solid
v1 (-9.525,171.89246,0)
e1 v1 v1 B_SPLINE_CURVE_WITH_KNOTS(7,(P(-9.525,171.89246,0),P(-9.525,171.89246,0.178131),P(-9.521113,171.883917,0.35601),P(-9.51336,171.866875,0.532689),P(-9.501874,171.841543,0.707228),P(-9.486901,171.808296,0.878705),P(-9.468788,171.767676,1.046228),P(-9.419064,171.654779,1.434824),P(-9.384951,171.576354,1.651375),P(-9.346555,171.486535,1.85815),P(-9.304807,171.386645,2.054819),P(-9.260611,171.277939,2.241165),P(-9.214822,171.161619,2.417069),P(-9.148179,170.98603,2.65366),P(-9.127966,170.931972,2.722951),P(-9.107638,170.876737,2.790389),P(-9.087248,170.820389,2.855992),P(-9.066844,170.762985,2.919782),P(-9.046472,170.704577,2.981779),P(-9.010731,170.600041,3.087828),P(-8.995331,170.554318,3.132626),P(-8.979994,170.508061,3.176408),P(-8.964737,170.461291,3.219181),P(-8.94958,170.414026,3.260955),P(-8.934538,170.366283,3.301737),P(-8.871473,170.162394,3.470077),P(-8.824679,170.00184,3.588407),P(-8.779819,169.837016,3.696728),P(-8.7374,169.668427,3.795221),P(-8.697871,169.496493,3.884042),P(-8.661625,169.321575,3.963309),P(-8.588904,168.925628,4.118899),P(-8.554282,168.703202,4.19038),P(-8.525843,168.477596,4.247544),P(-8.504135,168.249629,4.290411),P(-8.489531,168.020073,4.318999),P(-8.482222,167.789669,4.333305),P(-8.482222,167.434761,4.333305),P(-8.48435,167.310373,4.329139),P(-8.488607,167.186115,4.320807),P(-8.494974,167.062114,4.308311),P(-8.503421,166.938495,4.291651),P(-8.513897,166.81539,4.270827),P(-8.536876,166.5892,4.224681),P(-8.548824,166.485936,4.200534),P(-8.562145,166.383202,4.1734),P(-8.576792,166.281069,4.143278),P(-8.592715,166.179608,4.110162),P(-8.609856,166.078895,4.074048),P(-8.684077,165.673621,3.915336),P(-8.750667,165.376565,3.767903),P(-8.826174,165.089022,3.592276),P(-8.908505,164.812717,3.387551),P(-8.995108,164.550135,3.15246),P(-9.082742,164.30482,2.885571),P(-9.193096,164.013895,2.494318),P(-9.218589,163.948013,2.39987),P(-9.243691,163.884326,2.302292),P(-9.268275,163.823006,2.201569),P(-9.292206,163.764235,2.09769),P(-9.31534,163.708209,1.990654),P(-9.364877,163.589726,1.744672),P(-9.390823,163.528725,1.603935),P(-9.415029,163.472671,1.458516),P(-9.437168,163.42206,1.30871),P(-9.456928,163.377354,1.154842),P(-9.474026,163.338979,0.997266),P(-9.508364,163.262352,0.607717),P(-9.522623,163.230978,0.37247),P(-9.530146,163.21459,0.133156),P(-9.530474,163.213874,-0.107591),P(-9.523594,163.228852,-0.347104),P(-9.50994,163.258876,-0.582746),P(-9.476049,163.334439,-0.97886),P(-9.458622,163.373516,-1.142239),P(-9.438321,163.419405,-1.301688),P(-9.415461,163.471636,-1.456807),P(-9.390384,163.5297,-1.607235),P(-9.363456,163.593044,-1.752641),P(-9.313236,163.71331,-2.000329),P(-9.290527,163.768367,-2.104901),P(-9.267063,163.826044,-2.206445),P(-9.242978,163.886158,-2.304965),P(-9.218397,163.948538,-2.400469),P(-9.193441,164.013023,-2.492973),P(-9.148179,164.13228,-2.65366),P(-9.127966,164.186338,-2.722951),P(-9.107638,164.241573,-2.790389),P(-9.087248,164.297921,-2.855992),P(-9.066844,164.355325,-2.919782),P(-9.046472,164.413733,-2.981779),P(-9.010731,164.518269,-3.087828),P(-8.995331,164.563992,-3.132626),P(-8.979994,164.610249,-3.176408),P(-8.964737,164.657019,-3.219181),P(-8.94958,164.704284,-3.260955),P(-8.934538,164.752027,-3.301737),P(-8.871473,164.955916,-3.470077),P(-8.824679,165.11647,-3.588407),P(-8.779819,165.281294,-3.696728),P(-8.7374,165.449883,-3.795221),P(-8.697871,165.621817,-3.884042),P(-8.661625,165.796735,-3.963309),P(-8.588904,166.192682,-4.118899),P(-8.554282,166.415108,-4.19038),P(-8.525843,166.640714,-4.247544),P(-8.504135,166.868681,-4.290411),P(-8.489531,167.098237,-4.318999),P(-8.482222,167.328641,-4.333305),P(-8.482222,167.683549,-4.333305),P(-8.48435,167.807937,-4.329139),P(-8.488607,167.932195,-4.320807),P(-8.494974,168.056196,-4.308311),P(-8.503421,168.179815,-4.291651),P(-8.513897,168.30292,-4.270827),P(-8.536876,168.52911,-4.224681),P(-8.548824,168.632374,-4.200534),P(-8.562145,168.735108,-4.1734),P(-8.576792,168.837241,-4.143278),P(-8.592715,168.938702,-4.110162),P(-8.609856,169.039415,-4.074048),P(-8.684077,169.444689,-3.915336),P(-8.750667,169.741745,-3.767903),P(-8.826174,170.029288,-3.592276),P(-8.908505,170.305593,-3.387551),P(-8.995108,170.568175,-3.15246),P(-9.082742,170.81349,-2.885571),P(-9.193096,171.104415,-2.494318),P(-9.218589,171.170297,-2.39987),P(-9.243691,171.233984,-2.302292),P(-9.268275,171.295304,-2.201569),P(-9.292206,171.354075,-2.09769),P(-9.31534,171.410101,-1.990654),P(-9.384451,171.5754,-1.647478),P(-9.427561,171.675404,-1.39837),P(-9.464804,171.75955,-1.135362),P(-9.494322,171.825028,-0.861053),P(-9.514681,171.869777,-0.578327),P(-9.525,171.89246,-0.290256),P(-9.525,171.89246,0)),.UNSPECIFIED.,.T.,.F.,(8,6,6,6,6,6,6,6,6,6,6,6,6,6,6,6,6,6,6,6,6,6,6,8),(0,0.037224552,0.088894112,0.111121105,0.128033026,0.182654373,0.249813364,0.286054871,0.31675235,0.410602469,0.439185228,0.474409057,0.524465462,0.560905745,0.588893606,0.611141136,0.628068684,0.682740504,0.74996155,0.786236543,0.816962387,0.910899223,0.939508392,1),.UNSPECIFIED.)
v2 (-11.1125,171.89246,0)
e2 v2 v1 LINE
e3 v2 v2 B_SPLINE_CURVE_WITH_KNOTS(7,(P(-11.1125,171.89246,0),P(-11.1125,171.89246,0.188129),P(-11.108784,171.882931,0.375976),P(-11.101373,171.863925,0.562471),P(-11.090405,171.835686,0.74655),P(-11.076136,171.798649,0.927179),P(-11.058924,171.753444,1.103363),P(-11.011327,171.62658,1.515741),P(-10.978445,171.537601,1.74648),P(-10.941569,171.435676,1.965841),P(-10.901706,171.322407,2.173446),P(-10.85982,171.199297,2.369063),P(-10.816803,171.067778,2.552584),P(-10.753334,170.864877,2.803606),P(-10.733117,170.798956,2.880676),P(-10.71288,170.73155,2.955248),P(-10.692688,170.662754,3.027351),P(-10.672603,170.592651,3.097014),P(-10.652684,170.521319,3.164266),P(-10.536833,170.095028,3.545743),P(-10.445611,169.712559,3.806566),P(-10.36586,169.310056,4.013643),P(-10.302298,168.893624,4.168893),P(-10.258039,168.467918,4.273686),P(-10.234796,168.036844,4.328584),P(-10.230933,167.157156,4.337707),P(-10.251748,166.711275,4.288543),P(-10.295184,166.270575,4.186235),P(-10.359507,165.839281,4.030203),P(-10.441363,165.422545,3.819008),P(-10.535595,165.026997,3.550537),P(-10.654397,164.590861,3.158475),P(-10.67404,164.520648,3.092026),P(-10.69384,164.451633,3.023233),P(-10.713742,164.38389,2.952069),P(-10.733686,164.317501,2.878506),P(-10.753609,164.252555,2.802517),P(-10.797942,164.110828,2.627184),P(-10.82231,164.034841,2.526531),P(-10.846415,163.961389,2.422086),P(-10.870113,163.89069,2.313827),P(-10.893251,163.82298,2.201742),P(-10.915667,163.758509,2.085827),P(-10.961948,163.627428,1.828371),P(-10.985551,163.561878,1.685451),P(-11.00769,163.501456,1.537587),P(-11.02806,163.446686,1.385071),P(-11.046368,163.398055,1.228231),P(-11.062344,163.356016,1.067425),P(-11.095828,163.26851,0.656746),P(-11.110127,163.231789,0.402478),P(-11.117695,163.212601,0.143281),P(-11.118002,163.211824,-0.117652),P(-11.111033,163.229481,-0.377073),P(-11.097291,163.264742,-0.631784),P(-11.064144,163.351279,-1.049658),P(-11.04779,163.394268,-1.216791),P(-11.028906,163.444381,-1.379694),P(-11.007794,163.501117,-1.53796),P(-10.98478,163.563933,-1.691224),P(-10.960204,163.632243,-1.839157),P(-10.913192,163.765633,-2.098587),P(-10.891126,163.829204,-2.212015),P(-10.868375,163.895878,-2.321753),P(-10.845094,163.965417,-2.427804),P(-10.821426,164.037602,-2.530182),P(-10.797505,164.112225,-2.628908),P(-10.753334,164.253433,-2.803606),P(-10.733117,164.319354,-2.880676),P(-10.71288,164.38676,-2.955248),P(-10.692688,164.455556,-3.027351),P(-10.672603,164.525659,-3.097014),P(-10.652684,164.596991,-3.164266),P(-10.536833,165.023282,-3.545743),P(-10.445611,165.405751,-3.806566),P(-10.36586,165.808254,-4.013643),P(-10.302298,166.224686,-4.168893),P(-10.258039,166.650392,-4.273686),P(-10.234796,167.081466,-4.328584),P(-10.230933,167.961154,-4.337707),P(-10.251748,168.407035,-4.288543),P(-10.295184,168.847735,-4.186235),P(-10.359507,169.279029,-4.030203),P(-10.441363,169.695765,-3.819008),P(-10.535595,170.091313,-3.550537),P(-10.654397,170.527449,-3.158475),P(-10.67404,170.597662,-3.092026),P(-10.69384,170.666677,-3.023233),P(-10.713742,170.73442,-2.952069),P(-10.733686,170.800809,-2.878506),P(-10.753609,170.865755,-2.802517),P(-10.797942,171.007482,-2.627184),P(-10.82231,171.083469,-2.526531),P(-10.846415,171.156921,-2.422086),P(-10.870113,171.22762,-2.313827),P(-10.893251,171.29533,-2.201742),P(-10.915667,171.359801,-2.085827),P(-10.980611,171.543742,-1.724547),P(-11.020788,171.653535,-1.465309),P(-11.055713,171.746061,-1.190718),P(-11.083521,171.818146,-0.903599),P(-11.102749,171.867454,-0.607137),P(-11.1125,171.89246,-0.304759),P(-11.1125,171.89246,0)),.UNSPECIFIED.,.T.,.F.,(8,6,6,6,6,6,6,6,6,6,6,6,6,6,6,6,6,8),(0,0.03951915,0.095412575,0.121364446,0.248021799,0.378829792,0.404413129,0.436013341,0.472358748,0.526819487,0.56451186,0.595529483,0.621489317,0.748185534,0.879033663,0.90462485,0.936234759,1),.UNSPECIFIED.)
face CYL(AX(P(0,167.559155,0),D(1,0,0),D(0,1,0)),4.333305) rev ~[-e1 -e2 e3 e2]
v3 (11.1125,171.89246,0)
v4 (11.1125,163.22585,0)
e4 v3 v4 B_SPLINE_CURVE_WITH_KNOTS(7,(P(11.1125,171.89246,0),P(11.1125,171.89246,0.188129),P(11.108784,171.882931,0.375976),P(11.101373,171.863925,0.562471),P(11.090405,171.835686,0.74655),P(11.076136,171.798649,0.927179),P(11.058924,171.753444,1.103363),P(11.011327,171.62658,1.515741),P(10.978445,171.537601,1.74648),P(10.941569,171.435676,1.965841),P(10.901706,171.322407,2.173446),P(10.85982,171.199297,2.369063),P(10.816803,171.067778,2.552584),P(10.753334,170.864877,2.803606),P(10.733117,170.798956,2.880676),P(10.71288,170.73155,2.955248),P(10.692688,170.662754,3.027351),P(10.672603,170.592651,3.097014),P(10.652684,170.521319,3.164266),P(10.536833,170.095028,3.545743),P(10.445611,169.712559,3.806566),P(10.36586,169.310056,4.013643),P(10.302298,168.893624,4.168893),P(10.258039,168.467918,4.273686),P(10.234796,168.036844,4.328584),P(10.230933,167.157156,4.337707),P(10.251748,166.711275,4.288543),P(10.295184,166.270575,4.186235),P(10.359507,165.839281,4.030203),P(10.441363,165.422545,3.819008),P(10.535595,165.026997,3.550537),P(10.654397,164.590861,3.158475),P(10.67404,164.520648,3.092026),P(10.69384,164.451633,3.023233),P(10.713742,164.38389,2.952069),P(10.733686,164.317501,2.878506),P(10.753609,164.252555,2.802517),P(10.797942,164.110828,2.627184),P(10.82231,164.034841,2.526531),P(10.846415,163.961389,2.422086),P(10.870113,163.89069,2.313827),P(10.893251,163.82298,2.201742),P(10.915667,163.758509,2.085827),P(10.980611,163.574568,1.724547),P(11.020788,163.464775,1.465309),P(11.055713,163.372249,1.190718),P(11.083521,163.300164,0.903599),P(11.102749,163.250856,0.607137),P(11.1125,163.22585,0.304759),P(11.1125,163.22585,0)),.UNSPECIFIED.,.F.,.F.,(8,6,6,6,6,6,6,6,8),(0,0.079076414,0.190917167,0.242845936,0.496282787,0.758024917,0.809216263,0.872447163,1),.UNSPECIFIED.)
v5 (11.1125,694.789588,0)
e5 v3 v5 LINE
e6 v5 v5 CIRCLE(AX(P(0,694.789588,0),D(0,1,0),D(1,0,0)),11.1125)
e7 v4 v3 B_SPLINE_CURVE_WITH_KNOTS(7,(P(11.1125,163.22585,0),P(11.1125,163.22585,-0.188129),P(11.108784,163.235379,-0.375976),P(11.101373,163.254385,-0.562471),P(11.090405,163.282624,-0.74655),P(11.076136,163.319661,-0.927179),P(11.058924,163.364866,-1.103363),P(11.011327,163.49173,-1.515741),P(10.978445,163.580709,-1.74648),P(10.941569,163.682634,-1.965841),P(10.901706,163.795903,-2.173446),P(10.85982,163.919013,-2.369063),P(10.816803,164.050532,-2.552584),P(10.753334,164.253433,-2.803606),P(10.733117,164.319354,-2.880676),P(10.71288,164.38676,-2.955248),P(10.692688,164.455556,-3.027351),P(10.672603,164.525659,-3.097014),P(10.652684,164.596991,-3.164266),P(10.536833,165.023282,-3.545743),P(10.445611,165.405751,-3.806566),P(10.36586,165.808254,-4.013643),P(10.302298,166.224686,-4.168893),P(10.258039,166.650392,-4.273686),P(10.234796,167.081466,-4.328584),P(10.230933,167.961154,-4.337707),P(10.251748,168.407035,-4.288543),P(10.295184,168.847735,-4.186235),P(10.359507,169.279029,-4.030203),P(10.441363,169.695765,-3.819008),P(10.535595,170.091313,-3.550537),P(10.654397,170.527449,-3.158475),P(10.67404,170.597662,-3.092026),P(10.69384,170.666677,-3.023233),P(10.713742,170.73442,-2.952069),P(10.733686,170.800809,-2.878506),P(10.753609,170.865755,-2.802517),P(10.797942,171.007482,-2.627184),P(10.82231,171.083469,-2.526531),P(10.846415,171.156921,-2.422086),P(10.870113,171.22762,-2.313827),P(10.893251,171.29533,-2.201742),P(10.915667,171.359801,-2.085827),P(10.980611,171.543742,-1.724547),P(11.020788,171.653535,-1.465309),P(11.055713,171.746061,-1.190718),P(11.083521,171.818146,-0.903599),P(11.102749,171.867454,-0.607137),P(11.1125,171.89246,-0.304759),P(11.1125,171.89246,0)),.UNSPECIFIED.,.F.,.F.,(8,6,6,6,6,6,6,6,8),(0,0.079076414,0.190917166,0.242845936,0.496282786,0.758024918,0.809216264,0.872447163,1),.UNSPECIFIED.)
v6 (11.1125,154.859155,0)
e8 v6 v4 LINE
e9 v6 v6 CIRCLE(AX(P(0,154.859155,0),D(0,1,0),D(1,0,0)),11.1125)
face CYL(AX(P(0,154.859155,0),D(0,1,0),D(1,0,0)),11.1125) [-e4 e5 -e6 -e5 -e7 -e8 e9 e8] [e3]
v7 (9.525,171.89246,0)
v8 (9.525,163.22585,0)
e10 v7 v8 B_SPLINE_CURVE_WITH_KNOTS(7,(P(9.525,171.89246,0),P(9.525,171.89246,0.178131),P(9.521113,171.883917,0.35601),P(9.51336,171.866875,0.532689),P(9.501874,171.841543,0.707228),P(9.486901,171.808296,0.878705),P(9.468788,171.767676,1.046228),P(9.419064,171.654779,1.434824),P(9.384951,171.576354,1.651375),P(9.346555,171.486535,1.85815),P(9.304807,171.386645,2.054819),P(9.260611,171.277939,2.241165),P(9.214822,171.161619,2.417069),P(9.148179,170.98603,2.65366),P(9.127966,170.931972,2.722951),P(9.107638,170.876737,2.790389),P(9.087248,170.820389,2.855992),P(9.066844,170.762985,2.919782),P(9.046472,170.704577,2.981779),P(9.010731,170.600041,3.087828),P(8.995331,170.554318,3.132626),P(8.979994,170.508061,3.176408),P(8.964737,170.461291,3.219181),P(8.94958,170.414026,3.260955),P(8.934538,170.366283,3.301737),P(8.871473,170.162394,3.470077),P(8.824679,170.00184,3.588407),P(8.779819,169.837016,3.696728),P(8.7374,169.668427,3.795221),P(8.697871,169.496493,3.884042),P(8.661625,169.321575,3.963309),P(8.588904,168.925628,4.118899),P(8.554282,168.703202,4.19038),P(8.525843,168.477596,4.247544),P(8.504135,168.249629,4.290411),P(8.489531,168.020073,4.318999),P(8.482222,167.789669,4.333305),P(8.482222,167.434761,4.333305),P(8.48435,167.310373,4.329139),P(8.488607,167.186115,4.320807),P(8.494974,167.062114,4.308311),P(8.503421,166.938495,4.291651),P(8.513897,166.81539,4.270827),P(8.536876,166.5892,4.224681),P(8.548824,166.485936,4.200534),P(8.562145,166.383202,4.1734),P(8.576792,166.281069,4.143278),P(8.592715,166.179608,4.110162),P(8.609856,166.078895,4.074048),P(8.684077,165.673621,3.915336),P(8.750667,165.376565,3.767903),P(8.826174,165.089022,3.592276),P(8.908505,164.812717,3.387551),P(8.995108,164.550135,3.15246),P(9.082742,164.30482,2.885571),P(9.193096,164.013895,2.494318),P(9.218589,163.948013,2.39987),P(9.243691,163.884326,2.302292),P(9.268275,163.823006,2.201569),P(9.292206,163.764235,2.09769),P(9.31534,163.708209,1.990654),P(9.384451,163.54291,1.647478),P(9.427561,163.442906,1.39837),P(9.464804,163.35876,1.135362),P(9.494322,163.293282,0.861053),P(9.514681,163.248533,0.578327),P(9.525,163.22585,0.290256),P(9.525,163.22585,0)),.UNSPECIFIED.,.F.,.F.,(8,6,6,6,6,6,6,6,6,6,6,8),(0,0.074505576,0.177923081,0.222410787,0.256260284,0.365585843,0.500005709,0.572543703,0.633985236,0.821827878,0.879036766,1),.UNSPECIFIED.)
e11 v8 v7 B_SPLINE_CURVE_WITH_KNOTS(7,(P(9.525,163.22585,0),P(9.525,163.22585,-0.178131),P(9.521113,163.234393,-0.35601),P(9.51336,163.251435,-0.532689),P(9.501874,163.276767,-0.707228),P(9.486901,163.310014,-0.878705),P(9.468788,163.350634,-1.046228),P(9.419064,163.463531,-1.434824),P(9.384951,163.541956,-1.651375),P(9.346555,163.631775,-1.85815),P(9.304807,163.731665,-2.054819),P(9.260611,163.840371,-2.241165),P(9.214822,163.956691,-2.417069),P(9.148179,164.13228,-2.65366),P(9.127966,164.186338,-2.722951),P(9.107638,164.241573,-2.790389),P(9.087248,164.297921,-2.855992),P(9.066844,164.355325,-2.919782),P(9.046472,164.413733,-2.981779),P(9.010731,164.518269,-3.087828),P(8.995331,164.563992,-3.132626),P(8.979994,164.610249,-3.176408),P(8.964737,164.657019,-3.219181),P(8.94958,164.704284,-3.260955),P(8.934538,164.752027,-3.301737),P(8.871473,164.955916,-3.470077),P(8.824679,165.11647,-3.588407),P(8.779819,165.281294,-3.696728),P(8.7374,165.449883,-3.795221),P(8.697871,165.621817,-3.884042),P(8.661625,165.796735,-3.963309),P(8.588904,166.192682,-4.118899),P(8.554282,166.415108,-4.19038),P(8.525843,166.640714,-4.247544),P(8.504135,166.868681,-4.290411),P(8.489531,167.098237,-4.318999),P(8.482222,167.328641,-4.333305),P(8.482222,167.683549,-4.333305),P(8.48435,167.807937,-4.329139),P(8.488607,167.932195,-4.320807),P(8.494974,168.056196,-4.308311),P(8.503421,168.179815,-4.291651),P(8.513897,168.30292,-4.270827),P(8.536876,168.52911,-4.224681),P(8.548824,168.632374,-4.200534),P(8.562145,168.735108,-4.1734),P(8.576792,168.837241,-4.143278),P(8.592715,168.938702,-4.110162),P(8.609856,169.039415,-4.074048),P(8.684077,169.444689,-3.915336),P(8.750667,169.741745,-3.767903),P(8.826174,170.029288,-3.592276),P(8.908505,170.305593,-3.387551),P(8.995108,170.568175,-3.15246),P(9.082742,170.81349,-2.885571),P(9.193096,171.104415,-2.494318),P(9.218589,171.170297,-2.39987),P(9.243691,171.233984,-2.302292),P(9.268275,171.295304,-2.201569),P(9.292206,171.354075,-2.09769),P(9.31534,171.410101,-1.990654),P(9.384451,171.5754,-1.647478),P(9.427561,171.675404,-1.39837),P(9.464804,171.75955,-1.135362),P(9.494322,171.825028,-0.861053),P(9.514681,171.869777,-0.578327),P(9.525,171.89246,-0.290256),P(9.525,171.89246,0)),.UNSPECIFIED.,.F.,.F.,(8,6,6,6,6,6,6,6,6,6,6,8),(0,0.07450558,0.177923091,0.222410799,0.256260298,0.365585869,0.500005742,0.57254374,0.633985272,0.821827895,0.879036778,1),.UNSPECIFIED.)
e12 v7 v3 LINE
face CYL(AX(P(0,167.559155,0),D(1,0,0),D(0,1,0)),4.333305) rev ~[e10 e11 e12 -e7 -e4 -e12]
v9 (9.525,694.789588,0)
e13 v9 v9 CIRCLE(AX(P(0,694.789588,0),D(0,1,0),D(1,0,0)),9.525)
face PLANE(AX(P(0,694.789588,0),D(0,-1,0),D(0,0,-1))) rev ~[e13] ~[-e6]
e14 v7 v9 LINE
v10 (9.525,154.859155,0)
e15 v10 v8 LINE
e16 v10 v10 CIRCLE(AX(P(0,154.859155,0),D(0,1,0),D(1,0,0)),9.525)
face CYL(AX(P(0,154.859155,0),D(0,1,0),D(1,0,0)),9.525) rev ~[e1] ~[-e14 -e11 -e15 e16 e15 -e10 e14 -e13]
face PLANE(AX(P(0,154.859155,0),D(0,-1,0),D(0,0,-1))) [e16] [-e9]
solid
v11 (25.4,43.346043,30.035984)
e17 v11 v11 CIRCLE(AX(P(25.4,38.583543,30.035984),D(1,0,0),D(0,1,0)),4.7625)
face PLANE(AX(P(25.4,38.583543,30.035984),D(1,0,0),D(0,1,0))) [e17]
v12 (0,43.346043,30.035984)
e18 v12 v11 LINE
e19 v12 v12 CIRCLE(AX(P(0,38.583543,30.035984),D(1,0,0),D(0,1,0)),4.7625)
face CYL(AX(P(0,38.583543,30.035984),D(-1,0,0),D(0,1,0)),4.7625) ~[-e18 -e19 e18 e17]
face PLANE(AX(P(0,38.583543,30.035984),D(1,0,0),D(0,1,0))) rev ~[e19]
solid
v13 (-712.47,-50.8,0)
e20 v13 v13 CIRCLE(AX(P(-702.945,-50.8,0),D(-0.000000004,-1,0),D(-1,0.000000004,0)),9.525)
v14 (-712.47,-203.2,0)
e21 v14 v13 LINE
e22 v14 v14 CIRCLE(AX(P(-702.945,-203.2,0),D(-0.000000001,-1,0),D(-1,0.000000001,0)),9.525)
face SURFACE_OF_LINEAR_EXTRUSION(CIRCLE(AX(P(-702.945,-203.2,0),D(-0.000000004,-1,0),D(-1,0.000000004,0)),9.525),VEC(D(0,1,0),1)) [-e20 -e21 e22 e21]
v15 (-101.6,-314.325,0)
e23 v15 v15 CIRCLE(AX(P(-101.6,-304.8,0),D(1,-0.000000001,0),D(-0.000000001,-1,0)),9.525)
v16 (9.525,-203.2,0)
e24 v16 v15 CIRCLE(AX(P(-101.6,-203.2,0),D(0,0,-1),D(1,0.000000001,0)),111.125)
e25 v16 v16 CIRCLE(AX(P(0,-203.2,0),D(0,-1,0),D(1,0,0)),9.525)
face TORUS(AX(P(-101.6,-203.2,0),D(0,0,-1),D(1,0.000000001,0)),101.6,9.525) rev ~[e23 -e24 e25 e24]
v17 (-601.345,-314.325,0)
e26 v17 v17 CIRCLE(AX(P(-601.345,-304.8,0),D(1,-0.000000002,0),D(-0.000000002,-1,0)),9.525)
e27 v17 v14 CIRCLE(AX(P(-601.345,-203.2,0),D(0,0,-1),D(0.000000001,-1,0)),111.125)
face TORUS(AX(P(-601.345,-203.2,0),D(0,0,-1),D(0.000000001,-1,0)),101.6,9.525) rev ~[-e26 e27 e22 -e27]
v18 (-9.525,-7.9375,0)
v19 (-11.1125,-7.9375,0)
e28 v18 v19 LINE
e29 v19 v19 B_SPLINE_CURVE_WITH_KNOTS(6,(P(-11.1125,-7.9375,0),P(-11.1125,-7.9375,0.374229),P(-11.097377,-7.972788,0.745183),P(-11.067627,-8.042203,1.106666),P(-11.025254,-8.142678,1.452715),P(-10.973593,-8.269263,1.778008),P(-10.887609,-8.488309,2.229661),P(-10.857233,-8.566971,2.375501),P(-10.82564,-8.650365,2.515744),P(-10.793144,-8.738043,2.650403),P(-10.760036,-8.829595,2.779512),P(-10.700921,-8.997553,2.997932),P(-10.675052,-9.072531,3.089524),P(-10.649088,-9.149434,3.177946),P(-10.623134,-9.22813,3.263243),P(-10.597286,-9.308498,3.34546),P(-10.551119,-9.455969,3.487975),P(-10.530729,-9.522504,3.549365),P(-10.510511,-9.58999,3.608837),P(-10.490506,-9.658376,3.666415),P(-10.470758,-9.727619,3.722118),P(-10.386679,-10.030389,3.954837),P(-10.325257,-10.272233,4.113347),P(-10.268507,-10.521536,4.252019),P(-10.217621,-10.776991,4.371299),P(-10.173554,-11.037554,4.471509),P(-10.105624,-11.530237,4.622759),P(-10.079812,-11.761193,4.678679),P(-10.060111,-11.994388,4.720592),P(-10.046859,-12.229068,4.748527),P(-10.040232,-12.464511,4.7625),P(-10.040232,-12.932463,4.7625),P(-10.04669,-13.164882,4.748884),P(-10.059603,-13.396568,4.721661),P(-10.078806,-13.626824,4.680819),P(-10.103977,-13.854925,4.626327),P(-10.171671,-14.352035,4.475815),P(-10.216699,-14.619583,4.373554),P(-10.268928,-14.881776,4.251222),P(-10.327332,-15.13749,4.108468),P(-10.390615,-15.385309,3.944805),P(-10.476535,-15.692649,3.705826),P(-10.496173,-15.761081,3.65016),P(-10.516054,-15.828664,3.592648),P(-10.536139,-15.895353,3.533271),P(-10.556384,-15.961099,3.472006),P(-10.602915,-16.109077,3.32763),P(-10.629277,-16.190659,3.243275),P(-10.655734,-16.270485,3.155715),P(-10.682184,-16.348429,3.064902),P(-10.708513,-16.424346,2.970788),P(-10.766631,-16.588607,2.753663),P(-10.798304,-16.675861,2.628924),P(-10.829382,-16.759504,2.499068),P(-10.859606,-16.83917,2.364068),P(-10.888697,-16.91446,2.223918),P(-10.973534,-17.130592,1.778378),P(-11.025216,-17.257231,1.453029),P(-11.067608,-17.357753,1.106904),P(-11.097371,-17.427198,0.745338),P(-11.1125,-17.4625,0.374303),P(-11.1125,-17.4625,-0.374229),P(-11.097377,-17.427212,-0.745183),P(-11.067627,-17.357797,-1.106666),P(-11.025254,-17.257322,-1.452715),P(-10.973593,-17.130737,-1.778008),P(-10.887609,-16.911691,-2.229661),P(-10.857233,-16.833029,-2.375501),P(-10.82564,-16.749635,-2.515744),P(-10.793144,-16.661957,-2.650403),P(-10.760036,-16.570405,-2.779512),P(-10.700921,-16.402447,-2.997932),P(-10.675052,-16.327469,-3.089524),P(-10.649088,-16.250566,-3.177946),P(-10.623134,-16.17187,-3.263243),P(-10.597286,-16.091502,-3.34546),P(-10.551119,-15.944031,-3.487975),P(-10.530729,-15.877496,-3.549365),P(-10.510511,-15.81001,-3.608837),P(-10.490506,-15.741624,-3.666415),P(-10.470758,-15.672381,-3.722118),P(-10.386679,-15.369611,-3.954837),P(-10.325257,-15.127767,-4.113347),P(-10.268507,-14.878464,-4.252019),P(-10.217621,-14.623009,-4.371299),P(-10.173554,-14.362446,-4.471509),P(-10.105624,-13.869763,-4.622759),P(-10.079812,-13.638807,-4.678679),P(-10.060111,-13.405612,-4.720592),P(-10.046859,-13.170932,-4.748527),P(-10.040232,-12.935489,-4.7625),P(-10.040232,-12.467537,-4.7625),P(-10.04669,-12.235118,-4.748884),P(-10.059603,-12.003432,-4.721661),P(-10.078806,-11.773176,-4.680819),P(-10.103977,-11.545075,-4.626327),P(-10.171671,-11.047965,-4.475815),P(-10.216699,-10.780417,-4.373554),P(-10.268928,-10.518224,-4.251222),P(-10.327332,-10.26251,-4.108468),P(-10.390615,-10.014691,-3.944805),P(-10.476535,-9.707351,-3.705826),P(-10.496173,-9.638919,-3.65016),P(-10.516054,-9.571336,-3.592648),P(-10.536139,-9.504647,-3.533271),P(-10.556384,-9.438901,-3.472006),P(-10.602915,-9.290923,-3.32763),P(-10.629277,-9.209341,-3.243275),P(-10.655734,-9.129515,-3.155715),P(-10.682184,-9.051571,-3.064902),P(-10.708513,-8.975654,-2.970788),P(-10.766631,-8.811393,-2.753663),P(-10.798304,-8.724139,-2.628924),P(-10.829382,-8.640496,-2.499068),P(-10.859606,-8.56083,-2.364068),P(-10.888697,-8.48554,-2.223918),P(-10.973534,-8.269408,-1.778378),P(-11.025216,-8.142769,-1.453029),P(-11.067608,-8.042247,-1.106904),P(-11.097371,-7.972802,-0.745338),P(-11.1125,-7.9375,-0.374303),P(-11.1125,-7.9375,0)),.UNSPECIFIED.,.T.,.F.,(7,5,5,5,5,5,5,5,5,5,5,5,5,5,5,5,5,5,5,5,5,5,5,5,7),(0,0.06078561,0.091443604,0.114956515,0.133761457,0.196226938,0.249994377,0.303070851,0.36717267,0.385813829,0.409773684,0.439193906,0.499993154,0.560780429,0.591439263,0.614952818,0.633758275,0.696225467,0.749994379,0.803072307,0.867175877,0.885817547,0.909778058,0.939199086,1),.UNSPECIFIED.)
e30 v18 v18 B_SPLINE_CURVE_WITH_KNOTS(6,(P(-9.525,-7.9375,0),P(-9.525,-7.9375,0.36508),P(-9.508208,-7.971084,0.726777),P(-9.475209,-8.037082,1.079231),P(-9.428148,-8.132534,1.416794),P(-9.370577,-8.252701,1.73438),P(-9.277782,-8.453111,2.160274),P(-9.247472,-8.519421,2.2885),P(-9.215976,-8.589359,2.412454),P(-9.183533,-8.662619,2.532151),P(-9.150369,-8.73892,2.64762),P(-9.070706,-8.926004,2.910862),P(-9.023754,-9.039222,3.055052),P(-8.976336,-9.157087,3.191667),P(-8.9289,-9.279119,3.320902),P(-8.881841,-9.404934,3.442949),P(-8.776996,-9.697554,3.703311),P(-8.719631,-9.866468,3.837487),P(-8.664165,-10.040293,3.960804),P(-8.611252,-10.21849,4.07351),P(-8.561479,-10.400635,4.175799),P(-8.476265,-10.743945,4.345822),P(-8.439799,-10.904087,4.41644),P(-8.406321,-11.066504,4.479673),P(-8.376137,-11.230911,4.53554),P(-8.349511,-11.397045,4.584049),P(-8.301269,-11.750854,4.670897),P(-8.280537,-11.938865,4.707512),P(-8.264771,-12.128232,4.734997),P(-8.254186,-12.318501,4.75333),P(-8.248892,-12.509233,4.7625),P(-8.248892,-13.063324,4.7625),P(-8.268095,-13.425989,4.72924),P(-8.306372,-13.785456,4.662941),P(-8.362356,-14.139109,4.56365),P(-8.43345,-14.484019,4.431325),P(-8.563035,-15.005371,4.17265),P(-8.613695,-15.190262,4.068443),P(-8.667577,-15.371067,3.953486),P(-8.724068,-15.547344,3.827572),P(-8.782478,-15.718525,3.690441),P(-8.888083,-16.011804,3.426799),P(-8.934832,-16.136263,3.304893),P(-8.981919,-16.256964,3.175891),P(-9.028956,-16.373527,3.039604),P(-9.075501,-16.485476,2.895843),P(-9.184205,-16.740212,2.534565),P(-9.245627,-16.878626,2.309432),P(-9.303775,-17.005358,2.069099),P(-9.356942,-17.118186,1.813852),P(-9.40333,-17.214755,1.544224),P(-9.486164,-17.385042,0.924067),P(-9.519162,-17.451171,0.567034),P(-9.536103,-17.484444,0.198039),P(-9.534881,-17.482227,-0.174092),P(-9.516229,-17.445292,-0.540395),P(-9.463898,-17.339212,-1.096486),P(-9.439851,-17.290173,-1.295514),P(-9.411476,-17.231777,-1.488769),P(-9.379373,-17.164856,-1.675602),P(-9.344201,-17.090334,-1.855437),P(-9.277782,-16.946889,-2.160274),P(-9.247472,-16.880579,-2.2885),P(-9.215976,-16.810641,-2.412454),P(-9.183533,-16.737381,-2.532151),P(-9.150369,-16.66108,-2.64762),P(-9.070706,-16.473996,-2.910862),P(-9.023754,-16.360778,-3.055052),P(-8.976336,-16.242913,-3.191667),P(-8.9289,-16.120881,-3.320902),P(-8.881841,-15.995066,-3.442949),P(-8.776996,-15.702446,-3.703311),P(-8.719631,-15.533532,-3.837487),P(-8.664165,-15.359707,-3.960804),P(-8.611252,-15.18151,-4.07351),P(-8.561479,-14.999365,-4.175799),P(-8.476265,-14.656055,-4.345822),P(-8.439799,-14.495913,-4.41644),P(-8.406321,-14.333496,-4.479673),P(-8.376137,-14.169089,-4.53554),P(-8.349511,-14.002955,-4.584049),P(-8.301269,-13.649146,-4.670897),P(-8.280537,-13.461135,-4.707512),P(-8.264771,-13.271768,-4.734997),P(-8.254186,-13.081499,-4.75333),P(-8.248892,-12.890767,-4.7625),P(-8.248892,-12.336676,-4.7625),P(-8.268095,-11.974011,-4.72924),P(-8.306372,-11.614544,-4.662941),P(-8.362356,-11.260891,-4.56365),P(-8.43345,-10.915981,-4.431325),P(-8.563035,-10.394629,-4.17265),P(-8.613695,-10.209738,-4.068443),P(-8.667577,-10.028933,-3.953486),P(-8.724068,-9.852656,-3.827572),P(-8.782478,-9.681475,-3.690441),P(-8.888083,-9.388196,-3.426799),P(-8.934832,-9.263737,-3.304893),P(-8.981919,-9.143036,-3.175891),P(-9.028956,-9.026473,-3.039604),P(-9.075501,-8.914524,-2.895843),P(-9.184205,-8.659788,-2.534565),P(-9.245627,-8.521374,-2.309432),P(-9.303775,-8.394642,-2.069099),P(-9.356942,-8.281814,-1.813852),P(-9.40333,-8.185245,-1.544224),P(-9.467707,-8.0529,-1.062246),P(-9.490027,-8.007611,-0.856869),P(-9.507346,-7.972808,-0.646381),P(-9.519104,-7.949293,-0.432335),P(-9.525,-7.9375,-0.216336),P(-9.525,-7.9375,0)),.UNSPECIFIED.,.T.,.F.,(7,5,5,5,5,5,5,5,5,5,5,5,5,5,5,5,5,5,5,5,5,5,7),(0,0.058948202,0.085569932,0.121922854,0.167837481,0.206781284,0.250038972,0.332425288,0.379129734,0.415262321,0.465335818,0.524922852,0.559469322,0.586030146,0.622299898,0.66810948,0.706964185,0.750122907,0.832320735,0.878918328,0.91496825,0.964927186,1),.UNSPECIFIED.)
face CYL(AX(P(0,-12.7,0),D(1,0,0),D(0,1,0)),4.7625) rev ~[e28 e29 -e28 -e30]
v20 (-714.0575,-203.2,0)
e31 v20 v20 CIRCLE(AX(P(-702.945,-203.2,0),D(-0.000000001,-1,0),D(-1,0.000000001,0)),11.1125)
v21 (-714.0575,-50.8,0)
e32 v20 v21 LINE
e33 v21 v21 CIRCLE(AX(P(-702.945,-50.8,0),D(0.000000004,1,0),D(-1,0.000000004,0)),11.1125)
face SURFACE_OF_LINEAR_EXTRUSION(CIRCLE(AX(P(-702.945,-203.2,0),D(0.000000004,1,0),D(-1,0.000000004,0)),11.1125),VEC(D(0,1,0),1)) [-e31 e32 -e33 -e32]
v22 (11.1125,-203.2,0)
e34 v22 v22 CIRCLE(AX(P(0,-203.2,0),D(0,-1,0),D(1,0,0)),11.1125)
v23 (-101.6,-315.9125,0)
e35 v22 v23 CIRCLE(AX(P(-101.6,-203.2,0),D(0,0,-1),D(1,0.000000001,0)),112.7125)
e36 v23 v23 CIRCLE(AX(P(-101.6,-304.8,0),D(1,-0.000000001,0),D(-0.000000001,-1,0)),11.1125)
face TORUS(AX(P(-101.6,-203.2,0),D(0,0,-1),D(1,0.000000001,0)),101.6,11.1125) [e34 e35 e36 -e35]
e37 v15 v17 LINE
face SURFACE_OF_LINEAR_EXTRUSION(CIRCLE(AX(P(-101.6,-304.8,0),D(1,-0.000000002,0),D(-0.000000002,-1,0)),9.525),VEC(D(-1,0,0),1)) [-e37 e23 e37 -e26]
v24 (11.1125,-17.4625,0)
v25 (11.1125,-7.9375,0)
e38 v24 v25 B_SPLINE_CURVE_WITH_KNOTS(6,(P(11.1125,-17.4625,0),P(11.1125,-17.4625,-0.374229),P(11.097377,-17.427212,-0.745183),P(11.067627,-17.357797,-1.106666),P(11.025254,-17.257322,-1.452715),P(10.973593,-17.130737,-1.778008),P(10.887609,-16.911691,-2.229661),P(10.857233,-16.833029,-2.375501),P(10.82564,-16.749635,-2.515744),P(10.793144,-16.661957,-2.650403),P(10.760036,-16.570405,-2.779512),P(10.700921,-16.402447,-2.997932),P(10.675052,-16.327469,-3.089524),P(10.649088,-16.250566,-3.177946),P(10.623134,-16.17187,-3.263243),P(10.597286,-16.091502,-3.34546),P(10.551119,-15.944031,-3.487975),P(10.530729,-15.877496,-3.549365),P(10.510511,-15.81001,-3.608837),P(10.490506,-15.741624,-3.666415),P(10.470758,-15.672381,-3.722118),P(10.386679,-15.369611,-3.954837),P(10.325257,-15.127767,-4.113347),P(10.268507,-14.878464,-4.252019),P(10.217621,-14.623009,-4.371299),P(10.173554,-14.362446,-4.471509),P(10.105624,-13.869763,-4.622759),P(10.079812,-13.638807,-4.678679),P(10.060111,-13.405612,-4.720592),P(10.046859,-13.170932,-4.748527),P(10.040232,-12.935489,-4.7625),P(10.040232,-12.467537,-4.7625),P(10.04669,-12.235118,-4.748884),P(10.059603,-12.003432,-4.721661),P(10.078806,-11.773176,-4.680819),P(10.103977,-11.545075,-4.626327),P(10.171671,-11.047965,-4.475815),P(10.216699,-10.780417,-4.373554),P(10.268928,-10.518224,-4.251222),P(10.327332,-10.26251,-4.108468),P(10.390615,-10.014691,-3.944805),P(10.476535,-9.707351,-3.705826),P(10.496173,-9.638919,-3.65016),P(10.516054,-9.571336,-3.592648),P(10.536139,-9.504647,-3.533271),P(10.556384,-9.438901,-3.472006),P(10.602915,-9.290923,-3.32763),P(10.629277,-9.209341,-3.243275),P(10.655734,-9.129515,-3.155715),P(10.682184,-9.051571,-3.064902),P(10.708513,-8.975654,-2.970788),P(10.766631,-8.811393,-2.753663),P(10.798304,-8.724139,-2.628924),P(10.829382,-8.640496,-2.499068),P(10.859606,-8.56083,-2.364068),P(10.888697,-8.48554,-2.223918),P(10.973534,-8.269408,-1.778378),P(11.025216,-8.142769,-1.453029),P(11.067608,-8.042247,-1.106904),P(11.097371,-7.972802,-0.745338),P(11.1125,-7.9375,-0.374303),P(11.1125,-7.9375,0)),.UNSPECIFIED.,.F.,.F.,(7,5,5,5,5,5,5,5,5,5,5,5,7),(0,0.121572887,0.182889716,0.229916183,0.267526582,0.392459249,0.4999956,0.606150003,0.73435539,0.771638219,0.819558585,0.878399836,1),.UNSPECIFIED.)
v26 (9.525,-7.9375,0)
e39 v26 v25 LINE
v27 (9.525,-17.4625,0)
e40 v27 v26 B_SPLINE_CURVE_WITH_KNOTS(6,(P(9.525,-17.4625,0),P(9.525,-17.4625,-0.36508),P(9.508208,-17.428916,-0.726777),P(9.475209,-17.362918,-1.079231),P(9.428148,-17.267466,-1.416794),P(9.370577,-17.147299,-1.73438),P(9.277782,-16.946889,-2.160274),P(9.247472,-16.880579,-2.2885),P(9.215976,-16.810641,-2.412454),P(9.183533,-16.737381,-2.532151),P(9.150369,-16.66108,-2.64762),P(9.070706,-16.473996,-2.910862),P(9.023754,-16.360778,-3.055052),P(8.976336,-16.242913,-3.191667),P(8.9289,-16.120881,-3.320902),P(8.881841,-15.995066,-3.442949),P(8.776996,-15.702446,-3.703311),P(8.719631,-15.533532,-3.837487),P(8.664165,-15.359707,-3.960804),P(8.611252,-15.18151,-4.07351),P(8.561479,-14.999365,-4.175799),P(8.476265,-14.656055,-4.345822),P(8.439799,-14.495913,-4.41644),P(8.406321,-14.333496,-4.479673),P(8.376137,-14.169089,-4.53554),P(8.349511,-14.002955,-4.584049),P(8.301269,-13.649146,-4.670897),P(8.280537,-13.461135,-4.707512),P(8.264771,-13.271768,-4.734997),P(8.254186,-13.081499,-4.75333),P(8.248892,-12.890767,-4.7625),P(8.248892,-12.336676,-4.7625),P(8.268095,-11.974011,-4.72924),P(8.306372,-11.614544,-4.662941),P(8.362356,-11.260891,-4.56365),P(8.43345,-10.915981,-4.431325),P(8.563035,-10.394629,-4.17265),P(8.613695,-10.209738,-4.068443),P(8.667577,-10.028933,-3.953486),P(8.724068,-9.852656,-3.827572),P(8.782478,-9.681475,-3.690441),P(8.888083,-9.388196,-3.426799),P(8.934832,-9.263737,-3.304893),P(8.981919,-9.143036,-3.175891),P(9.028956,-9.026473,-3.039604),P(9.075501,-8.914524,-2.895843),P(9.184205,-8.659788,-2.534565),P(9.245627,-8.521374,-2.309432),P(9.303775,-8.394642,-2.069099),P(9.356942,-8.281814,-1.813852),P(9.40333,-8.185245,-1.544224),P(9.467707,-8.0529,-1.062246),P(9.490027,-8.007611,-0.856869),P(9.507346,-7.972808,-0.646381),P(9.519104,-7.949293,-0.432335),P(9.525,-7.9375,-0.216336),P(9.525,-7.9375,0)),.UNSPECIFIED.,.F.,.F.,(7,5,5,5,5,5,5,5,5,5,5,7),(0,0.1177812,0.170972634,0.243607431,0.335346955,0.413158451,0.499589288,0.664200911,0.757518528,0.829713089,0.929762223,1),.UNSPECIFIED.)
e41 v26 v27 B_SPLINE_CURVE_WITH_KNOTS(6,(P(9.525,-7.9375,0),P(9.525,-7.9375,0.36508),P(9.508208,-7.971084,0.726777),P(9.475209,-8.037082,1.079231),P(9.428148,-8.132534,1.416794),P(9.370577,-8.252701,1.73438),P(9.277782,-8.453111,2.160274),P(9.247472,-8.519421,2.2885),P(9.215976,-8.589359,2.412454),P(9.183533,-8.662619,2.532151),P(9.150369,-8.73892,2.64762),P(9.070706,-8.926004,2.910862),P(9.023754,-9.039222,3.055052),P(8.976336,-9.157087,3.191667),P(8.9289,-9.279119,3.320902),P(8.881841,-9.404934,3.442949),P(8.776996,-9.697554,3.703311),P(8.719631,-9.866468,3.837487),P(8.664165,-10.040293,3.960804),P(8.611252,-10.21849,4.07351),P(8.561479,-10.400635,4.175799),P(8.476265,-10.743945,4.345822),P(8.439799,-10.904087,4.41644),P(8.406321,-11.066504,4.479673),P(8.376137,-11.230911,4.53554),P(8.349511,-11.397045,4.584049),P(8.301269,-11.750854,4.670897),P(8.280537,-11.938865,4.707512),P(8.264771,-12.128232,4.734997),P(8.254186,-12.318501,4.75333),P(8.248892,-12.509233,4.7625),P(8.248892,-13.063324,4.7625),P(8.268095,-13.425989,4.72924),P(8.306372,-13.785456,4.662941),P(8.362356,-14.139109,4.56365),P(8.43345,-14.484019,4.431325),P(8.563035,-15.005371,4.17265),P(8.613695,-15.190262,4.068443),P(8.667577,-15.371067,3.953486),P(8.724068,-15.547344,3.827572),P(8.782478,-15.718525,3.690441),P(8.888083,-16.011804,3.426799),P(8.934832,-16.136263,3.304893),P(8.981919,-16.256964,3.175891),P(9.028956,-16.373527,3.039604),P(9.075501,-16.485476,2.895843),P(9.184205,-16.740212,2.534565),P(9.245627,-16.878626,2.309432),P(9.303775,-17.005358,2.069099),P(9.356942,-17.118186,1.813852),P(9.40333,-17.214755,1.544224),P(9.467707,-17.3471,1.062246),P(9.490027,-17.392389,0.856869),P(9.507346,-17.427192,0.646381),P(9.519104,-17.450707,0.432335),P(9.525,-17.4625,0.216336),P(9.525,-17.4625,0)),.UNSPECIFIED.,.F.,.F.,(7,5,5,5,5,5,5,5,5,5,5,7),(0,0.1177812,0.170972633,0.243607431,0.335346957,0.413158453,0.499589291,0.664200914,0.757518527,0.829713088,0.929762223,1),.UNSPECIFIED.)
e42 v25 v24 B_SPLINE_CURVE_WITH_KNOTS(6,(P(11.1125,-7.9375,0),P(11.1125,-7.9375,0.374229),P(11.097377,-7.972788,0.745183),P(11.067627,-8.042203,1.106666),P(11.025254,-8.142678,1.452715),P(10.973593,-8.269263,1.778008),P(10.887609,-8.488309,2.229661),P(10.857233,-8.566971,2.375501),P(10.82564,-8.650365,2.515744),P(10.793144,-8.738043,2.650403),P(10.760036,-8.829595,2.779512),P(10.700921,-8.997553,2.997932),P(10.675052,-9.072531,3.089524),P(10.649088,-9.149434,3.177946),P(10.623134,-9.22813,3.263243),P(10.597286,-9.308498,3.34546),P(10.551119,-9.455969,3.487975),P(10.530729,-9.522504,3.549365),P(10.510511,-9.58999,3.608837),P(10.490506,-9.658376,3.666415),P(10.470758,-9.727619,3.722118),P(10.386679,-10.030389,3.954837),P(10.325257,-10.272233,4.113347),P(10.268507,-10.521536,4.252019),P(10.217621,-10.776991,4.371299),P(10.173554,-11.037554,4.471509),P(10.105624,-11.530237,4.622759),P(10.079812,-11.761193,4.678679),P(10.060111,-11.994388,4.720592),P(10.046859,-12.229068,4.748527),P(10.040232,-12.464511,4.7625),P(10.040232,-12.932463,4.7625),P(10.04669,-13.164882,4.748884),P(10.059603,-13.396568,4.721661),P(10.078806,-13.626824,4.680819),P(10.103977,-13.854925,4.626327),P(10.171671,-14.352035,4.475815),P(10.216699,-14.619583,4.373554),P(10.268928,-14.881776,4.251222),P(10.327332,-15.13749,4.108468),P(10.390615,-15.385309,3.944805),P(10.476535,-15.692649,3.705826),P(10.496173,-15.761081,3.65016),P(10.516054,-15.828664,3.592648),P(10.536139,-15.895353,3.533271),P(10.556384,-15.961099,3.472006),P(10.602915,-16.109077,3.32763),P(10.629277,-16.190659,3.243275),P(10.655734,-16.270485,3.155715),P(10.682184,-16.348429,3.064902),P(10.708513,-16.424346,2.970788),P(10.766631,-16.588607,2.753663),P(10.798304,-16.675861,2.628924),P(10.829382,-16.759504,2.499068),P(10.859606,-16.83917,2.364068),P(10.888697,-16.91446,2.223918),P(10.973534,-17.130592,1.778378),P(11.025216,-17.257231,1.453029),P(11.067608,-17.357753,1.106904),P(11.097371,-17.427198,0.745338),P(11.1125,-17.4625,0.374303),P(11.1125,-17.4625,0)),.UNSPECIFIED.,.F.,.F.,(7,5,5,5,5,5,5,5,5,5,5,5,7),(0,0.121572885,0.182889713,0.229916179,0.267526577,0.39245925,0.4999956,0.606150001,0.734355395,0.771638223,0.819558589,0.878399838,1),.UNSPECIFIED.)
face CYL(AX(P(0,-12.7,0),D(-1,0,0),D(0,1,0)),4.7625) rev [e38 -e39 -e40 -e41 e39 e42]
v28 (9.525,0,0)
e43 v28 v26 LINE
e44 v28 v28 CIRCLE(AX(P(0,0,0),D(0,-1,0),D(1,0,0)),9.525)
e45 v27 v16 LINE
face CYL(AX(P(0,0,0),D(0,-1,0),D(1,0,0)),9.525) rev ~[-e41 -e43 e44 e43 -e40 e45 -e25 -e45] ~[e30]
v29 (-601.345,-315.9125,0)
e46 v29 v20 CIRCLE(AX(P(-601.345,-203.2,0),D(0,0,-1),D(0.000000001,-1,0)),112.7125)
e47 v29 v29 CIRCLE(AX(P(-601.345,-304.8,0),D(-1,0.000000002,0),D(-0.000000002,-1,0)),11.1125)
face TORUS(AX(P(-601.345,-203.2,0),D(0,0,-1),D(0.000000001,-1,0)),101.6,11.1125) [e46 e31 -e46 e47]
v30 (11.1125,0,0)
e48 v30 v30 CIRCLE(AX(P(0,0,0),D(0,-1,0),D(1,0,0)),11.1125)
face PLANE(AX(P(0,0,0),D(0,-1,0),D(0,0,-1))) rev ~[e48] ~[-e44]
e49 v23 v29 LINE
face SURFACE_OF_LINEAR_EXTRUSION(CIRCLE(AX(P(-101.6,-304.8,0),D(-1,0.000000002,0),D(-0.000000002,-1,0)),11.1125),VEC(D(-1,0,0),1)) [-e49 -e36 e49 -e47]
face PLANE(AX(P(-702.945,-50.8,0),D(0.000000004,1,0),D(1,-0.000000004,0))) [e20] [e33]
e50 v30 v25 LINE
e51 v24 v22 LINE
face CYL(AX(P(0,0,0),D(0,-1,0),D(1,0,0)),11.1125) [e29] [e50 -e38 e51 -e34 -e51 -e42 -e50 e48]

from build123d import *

# Parameters (mm, degrees)
F1_R      = 11.1125
F1_R_2    = 9.525
F5_R      = 11.1125
F5_R_2    = 9.525
F7_R      = 4.7625
F7_R_2    = 4.333305
F8_DEPTH  = 12.7
F9_R      = 4.7625
F10_DEPTH = 25.4


with BuildPart() as f2:
    # F2: sweep along a path in F0
    with BuildLine(Plane.XY) as f2_path:
        Line((0, 0), (0, -203.2))
        ThreePointArc((0, -203.2), (-29.757951, -275.042049), (-101.6, -304.8))
        Line((-101.6, -304.8), (-601.345, -304.8))
        ThreePointArc((-601.345, -304.8), (-673.187049, -275.042049), (-702.945, -203.2))
        Line((-702.945, -203.2), (-702.945, -50.8))
    # F1 (on Front) → F2 (sweep)
    with BuildSketch(Plane.XZ):
        Circle(F1_R)
        Circle(F1_R_2, mode=Mode.SUBTRACT)
    sweep(path=f2_path.line)


with BuildPart() as f6:
    # F6: sweep along a path in F3
    with BuildLine(Plane.XY) as f6_path:
        Line((0, 154.859155), (0, 694.789588))
    # F5 (on plane+point) → F6 (sweep)
    with BuildSketch(Plane.XZ.offset(-154.859155)):
        Circle(F5_R)
        Circle(F5_R_2, mode=Mode.SUBTRACT)
    sweep(path=f6_path.line)


with BuildPart() as f8_tool:
    # F7 (on Right) → F8 (new body, symmetric)
    with BuildSketch(Plane.YZ):
        with Locations((-12.7, 0)):
            Circle(F7_R)
        with Locations((167.559155, 0)):
            Circle(F7_R_2)
    extrude(amount=F8_DEPTH, both=True)


with BuildPart() as f2_1:
    add(f2.part)

    # F8: cut by f8_tool
    add(f8_tool.part, mode=Mode.SUBTRACT)


with BuildPart() as f6_1:
    add(f6.part)

    # F8: cut by f8_tool
    add(f8_tool.part, mode=Mode.SUBTRACT)


with BuildPart() as f10:
    # F9 (on Right) → F10 (new body)
    with BuildSketch(Plane.YZ):
        with Locations((38.583543, 30.035984)):
            Circle(F9_R)
    extrude(amount=F10_DEPTH)


solid = Compound([f2_1.part, f6_1.part, f10.part])
